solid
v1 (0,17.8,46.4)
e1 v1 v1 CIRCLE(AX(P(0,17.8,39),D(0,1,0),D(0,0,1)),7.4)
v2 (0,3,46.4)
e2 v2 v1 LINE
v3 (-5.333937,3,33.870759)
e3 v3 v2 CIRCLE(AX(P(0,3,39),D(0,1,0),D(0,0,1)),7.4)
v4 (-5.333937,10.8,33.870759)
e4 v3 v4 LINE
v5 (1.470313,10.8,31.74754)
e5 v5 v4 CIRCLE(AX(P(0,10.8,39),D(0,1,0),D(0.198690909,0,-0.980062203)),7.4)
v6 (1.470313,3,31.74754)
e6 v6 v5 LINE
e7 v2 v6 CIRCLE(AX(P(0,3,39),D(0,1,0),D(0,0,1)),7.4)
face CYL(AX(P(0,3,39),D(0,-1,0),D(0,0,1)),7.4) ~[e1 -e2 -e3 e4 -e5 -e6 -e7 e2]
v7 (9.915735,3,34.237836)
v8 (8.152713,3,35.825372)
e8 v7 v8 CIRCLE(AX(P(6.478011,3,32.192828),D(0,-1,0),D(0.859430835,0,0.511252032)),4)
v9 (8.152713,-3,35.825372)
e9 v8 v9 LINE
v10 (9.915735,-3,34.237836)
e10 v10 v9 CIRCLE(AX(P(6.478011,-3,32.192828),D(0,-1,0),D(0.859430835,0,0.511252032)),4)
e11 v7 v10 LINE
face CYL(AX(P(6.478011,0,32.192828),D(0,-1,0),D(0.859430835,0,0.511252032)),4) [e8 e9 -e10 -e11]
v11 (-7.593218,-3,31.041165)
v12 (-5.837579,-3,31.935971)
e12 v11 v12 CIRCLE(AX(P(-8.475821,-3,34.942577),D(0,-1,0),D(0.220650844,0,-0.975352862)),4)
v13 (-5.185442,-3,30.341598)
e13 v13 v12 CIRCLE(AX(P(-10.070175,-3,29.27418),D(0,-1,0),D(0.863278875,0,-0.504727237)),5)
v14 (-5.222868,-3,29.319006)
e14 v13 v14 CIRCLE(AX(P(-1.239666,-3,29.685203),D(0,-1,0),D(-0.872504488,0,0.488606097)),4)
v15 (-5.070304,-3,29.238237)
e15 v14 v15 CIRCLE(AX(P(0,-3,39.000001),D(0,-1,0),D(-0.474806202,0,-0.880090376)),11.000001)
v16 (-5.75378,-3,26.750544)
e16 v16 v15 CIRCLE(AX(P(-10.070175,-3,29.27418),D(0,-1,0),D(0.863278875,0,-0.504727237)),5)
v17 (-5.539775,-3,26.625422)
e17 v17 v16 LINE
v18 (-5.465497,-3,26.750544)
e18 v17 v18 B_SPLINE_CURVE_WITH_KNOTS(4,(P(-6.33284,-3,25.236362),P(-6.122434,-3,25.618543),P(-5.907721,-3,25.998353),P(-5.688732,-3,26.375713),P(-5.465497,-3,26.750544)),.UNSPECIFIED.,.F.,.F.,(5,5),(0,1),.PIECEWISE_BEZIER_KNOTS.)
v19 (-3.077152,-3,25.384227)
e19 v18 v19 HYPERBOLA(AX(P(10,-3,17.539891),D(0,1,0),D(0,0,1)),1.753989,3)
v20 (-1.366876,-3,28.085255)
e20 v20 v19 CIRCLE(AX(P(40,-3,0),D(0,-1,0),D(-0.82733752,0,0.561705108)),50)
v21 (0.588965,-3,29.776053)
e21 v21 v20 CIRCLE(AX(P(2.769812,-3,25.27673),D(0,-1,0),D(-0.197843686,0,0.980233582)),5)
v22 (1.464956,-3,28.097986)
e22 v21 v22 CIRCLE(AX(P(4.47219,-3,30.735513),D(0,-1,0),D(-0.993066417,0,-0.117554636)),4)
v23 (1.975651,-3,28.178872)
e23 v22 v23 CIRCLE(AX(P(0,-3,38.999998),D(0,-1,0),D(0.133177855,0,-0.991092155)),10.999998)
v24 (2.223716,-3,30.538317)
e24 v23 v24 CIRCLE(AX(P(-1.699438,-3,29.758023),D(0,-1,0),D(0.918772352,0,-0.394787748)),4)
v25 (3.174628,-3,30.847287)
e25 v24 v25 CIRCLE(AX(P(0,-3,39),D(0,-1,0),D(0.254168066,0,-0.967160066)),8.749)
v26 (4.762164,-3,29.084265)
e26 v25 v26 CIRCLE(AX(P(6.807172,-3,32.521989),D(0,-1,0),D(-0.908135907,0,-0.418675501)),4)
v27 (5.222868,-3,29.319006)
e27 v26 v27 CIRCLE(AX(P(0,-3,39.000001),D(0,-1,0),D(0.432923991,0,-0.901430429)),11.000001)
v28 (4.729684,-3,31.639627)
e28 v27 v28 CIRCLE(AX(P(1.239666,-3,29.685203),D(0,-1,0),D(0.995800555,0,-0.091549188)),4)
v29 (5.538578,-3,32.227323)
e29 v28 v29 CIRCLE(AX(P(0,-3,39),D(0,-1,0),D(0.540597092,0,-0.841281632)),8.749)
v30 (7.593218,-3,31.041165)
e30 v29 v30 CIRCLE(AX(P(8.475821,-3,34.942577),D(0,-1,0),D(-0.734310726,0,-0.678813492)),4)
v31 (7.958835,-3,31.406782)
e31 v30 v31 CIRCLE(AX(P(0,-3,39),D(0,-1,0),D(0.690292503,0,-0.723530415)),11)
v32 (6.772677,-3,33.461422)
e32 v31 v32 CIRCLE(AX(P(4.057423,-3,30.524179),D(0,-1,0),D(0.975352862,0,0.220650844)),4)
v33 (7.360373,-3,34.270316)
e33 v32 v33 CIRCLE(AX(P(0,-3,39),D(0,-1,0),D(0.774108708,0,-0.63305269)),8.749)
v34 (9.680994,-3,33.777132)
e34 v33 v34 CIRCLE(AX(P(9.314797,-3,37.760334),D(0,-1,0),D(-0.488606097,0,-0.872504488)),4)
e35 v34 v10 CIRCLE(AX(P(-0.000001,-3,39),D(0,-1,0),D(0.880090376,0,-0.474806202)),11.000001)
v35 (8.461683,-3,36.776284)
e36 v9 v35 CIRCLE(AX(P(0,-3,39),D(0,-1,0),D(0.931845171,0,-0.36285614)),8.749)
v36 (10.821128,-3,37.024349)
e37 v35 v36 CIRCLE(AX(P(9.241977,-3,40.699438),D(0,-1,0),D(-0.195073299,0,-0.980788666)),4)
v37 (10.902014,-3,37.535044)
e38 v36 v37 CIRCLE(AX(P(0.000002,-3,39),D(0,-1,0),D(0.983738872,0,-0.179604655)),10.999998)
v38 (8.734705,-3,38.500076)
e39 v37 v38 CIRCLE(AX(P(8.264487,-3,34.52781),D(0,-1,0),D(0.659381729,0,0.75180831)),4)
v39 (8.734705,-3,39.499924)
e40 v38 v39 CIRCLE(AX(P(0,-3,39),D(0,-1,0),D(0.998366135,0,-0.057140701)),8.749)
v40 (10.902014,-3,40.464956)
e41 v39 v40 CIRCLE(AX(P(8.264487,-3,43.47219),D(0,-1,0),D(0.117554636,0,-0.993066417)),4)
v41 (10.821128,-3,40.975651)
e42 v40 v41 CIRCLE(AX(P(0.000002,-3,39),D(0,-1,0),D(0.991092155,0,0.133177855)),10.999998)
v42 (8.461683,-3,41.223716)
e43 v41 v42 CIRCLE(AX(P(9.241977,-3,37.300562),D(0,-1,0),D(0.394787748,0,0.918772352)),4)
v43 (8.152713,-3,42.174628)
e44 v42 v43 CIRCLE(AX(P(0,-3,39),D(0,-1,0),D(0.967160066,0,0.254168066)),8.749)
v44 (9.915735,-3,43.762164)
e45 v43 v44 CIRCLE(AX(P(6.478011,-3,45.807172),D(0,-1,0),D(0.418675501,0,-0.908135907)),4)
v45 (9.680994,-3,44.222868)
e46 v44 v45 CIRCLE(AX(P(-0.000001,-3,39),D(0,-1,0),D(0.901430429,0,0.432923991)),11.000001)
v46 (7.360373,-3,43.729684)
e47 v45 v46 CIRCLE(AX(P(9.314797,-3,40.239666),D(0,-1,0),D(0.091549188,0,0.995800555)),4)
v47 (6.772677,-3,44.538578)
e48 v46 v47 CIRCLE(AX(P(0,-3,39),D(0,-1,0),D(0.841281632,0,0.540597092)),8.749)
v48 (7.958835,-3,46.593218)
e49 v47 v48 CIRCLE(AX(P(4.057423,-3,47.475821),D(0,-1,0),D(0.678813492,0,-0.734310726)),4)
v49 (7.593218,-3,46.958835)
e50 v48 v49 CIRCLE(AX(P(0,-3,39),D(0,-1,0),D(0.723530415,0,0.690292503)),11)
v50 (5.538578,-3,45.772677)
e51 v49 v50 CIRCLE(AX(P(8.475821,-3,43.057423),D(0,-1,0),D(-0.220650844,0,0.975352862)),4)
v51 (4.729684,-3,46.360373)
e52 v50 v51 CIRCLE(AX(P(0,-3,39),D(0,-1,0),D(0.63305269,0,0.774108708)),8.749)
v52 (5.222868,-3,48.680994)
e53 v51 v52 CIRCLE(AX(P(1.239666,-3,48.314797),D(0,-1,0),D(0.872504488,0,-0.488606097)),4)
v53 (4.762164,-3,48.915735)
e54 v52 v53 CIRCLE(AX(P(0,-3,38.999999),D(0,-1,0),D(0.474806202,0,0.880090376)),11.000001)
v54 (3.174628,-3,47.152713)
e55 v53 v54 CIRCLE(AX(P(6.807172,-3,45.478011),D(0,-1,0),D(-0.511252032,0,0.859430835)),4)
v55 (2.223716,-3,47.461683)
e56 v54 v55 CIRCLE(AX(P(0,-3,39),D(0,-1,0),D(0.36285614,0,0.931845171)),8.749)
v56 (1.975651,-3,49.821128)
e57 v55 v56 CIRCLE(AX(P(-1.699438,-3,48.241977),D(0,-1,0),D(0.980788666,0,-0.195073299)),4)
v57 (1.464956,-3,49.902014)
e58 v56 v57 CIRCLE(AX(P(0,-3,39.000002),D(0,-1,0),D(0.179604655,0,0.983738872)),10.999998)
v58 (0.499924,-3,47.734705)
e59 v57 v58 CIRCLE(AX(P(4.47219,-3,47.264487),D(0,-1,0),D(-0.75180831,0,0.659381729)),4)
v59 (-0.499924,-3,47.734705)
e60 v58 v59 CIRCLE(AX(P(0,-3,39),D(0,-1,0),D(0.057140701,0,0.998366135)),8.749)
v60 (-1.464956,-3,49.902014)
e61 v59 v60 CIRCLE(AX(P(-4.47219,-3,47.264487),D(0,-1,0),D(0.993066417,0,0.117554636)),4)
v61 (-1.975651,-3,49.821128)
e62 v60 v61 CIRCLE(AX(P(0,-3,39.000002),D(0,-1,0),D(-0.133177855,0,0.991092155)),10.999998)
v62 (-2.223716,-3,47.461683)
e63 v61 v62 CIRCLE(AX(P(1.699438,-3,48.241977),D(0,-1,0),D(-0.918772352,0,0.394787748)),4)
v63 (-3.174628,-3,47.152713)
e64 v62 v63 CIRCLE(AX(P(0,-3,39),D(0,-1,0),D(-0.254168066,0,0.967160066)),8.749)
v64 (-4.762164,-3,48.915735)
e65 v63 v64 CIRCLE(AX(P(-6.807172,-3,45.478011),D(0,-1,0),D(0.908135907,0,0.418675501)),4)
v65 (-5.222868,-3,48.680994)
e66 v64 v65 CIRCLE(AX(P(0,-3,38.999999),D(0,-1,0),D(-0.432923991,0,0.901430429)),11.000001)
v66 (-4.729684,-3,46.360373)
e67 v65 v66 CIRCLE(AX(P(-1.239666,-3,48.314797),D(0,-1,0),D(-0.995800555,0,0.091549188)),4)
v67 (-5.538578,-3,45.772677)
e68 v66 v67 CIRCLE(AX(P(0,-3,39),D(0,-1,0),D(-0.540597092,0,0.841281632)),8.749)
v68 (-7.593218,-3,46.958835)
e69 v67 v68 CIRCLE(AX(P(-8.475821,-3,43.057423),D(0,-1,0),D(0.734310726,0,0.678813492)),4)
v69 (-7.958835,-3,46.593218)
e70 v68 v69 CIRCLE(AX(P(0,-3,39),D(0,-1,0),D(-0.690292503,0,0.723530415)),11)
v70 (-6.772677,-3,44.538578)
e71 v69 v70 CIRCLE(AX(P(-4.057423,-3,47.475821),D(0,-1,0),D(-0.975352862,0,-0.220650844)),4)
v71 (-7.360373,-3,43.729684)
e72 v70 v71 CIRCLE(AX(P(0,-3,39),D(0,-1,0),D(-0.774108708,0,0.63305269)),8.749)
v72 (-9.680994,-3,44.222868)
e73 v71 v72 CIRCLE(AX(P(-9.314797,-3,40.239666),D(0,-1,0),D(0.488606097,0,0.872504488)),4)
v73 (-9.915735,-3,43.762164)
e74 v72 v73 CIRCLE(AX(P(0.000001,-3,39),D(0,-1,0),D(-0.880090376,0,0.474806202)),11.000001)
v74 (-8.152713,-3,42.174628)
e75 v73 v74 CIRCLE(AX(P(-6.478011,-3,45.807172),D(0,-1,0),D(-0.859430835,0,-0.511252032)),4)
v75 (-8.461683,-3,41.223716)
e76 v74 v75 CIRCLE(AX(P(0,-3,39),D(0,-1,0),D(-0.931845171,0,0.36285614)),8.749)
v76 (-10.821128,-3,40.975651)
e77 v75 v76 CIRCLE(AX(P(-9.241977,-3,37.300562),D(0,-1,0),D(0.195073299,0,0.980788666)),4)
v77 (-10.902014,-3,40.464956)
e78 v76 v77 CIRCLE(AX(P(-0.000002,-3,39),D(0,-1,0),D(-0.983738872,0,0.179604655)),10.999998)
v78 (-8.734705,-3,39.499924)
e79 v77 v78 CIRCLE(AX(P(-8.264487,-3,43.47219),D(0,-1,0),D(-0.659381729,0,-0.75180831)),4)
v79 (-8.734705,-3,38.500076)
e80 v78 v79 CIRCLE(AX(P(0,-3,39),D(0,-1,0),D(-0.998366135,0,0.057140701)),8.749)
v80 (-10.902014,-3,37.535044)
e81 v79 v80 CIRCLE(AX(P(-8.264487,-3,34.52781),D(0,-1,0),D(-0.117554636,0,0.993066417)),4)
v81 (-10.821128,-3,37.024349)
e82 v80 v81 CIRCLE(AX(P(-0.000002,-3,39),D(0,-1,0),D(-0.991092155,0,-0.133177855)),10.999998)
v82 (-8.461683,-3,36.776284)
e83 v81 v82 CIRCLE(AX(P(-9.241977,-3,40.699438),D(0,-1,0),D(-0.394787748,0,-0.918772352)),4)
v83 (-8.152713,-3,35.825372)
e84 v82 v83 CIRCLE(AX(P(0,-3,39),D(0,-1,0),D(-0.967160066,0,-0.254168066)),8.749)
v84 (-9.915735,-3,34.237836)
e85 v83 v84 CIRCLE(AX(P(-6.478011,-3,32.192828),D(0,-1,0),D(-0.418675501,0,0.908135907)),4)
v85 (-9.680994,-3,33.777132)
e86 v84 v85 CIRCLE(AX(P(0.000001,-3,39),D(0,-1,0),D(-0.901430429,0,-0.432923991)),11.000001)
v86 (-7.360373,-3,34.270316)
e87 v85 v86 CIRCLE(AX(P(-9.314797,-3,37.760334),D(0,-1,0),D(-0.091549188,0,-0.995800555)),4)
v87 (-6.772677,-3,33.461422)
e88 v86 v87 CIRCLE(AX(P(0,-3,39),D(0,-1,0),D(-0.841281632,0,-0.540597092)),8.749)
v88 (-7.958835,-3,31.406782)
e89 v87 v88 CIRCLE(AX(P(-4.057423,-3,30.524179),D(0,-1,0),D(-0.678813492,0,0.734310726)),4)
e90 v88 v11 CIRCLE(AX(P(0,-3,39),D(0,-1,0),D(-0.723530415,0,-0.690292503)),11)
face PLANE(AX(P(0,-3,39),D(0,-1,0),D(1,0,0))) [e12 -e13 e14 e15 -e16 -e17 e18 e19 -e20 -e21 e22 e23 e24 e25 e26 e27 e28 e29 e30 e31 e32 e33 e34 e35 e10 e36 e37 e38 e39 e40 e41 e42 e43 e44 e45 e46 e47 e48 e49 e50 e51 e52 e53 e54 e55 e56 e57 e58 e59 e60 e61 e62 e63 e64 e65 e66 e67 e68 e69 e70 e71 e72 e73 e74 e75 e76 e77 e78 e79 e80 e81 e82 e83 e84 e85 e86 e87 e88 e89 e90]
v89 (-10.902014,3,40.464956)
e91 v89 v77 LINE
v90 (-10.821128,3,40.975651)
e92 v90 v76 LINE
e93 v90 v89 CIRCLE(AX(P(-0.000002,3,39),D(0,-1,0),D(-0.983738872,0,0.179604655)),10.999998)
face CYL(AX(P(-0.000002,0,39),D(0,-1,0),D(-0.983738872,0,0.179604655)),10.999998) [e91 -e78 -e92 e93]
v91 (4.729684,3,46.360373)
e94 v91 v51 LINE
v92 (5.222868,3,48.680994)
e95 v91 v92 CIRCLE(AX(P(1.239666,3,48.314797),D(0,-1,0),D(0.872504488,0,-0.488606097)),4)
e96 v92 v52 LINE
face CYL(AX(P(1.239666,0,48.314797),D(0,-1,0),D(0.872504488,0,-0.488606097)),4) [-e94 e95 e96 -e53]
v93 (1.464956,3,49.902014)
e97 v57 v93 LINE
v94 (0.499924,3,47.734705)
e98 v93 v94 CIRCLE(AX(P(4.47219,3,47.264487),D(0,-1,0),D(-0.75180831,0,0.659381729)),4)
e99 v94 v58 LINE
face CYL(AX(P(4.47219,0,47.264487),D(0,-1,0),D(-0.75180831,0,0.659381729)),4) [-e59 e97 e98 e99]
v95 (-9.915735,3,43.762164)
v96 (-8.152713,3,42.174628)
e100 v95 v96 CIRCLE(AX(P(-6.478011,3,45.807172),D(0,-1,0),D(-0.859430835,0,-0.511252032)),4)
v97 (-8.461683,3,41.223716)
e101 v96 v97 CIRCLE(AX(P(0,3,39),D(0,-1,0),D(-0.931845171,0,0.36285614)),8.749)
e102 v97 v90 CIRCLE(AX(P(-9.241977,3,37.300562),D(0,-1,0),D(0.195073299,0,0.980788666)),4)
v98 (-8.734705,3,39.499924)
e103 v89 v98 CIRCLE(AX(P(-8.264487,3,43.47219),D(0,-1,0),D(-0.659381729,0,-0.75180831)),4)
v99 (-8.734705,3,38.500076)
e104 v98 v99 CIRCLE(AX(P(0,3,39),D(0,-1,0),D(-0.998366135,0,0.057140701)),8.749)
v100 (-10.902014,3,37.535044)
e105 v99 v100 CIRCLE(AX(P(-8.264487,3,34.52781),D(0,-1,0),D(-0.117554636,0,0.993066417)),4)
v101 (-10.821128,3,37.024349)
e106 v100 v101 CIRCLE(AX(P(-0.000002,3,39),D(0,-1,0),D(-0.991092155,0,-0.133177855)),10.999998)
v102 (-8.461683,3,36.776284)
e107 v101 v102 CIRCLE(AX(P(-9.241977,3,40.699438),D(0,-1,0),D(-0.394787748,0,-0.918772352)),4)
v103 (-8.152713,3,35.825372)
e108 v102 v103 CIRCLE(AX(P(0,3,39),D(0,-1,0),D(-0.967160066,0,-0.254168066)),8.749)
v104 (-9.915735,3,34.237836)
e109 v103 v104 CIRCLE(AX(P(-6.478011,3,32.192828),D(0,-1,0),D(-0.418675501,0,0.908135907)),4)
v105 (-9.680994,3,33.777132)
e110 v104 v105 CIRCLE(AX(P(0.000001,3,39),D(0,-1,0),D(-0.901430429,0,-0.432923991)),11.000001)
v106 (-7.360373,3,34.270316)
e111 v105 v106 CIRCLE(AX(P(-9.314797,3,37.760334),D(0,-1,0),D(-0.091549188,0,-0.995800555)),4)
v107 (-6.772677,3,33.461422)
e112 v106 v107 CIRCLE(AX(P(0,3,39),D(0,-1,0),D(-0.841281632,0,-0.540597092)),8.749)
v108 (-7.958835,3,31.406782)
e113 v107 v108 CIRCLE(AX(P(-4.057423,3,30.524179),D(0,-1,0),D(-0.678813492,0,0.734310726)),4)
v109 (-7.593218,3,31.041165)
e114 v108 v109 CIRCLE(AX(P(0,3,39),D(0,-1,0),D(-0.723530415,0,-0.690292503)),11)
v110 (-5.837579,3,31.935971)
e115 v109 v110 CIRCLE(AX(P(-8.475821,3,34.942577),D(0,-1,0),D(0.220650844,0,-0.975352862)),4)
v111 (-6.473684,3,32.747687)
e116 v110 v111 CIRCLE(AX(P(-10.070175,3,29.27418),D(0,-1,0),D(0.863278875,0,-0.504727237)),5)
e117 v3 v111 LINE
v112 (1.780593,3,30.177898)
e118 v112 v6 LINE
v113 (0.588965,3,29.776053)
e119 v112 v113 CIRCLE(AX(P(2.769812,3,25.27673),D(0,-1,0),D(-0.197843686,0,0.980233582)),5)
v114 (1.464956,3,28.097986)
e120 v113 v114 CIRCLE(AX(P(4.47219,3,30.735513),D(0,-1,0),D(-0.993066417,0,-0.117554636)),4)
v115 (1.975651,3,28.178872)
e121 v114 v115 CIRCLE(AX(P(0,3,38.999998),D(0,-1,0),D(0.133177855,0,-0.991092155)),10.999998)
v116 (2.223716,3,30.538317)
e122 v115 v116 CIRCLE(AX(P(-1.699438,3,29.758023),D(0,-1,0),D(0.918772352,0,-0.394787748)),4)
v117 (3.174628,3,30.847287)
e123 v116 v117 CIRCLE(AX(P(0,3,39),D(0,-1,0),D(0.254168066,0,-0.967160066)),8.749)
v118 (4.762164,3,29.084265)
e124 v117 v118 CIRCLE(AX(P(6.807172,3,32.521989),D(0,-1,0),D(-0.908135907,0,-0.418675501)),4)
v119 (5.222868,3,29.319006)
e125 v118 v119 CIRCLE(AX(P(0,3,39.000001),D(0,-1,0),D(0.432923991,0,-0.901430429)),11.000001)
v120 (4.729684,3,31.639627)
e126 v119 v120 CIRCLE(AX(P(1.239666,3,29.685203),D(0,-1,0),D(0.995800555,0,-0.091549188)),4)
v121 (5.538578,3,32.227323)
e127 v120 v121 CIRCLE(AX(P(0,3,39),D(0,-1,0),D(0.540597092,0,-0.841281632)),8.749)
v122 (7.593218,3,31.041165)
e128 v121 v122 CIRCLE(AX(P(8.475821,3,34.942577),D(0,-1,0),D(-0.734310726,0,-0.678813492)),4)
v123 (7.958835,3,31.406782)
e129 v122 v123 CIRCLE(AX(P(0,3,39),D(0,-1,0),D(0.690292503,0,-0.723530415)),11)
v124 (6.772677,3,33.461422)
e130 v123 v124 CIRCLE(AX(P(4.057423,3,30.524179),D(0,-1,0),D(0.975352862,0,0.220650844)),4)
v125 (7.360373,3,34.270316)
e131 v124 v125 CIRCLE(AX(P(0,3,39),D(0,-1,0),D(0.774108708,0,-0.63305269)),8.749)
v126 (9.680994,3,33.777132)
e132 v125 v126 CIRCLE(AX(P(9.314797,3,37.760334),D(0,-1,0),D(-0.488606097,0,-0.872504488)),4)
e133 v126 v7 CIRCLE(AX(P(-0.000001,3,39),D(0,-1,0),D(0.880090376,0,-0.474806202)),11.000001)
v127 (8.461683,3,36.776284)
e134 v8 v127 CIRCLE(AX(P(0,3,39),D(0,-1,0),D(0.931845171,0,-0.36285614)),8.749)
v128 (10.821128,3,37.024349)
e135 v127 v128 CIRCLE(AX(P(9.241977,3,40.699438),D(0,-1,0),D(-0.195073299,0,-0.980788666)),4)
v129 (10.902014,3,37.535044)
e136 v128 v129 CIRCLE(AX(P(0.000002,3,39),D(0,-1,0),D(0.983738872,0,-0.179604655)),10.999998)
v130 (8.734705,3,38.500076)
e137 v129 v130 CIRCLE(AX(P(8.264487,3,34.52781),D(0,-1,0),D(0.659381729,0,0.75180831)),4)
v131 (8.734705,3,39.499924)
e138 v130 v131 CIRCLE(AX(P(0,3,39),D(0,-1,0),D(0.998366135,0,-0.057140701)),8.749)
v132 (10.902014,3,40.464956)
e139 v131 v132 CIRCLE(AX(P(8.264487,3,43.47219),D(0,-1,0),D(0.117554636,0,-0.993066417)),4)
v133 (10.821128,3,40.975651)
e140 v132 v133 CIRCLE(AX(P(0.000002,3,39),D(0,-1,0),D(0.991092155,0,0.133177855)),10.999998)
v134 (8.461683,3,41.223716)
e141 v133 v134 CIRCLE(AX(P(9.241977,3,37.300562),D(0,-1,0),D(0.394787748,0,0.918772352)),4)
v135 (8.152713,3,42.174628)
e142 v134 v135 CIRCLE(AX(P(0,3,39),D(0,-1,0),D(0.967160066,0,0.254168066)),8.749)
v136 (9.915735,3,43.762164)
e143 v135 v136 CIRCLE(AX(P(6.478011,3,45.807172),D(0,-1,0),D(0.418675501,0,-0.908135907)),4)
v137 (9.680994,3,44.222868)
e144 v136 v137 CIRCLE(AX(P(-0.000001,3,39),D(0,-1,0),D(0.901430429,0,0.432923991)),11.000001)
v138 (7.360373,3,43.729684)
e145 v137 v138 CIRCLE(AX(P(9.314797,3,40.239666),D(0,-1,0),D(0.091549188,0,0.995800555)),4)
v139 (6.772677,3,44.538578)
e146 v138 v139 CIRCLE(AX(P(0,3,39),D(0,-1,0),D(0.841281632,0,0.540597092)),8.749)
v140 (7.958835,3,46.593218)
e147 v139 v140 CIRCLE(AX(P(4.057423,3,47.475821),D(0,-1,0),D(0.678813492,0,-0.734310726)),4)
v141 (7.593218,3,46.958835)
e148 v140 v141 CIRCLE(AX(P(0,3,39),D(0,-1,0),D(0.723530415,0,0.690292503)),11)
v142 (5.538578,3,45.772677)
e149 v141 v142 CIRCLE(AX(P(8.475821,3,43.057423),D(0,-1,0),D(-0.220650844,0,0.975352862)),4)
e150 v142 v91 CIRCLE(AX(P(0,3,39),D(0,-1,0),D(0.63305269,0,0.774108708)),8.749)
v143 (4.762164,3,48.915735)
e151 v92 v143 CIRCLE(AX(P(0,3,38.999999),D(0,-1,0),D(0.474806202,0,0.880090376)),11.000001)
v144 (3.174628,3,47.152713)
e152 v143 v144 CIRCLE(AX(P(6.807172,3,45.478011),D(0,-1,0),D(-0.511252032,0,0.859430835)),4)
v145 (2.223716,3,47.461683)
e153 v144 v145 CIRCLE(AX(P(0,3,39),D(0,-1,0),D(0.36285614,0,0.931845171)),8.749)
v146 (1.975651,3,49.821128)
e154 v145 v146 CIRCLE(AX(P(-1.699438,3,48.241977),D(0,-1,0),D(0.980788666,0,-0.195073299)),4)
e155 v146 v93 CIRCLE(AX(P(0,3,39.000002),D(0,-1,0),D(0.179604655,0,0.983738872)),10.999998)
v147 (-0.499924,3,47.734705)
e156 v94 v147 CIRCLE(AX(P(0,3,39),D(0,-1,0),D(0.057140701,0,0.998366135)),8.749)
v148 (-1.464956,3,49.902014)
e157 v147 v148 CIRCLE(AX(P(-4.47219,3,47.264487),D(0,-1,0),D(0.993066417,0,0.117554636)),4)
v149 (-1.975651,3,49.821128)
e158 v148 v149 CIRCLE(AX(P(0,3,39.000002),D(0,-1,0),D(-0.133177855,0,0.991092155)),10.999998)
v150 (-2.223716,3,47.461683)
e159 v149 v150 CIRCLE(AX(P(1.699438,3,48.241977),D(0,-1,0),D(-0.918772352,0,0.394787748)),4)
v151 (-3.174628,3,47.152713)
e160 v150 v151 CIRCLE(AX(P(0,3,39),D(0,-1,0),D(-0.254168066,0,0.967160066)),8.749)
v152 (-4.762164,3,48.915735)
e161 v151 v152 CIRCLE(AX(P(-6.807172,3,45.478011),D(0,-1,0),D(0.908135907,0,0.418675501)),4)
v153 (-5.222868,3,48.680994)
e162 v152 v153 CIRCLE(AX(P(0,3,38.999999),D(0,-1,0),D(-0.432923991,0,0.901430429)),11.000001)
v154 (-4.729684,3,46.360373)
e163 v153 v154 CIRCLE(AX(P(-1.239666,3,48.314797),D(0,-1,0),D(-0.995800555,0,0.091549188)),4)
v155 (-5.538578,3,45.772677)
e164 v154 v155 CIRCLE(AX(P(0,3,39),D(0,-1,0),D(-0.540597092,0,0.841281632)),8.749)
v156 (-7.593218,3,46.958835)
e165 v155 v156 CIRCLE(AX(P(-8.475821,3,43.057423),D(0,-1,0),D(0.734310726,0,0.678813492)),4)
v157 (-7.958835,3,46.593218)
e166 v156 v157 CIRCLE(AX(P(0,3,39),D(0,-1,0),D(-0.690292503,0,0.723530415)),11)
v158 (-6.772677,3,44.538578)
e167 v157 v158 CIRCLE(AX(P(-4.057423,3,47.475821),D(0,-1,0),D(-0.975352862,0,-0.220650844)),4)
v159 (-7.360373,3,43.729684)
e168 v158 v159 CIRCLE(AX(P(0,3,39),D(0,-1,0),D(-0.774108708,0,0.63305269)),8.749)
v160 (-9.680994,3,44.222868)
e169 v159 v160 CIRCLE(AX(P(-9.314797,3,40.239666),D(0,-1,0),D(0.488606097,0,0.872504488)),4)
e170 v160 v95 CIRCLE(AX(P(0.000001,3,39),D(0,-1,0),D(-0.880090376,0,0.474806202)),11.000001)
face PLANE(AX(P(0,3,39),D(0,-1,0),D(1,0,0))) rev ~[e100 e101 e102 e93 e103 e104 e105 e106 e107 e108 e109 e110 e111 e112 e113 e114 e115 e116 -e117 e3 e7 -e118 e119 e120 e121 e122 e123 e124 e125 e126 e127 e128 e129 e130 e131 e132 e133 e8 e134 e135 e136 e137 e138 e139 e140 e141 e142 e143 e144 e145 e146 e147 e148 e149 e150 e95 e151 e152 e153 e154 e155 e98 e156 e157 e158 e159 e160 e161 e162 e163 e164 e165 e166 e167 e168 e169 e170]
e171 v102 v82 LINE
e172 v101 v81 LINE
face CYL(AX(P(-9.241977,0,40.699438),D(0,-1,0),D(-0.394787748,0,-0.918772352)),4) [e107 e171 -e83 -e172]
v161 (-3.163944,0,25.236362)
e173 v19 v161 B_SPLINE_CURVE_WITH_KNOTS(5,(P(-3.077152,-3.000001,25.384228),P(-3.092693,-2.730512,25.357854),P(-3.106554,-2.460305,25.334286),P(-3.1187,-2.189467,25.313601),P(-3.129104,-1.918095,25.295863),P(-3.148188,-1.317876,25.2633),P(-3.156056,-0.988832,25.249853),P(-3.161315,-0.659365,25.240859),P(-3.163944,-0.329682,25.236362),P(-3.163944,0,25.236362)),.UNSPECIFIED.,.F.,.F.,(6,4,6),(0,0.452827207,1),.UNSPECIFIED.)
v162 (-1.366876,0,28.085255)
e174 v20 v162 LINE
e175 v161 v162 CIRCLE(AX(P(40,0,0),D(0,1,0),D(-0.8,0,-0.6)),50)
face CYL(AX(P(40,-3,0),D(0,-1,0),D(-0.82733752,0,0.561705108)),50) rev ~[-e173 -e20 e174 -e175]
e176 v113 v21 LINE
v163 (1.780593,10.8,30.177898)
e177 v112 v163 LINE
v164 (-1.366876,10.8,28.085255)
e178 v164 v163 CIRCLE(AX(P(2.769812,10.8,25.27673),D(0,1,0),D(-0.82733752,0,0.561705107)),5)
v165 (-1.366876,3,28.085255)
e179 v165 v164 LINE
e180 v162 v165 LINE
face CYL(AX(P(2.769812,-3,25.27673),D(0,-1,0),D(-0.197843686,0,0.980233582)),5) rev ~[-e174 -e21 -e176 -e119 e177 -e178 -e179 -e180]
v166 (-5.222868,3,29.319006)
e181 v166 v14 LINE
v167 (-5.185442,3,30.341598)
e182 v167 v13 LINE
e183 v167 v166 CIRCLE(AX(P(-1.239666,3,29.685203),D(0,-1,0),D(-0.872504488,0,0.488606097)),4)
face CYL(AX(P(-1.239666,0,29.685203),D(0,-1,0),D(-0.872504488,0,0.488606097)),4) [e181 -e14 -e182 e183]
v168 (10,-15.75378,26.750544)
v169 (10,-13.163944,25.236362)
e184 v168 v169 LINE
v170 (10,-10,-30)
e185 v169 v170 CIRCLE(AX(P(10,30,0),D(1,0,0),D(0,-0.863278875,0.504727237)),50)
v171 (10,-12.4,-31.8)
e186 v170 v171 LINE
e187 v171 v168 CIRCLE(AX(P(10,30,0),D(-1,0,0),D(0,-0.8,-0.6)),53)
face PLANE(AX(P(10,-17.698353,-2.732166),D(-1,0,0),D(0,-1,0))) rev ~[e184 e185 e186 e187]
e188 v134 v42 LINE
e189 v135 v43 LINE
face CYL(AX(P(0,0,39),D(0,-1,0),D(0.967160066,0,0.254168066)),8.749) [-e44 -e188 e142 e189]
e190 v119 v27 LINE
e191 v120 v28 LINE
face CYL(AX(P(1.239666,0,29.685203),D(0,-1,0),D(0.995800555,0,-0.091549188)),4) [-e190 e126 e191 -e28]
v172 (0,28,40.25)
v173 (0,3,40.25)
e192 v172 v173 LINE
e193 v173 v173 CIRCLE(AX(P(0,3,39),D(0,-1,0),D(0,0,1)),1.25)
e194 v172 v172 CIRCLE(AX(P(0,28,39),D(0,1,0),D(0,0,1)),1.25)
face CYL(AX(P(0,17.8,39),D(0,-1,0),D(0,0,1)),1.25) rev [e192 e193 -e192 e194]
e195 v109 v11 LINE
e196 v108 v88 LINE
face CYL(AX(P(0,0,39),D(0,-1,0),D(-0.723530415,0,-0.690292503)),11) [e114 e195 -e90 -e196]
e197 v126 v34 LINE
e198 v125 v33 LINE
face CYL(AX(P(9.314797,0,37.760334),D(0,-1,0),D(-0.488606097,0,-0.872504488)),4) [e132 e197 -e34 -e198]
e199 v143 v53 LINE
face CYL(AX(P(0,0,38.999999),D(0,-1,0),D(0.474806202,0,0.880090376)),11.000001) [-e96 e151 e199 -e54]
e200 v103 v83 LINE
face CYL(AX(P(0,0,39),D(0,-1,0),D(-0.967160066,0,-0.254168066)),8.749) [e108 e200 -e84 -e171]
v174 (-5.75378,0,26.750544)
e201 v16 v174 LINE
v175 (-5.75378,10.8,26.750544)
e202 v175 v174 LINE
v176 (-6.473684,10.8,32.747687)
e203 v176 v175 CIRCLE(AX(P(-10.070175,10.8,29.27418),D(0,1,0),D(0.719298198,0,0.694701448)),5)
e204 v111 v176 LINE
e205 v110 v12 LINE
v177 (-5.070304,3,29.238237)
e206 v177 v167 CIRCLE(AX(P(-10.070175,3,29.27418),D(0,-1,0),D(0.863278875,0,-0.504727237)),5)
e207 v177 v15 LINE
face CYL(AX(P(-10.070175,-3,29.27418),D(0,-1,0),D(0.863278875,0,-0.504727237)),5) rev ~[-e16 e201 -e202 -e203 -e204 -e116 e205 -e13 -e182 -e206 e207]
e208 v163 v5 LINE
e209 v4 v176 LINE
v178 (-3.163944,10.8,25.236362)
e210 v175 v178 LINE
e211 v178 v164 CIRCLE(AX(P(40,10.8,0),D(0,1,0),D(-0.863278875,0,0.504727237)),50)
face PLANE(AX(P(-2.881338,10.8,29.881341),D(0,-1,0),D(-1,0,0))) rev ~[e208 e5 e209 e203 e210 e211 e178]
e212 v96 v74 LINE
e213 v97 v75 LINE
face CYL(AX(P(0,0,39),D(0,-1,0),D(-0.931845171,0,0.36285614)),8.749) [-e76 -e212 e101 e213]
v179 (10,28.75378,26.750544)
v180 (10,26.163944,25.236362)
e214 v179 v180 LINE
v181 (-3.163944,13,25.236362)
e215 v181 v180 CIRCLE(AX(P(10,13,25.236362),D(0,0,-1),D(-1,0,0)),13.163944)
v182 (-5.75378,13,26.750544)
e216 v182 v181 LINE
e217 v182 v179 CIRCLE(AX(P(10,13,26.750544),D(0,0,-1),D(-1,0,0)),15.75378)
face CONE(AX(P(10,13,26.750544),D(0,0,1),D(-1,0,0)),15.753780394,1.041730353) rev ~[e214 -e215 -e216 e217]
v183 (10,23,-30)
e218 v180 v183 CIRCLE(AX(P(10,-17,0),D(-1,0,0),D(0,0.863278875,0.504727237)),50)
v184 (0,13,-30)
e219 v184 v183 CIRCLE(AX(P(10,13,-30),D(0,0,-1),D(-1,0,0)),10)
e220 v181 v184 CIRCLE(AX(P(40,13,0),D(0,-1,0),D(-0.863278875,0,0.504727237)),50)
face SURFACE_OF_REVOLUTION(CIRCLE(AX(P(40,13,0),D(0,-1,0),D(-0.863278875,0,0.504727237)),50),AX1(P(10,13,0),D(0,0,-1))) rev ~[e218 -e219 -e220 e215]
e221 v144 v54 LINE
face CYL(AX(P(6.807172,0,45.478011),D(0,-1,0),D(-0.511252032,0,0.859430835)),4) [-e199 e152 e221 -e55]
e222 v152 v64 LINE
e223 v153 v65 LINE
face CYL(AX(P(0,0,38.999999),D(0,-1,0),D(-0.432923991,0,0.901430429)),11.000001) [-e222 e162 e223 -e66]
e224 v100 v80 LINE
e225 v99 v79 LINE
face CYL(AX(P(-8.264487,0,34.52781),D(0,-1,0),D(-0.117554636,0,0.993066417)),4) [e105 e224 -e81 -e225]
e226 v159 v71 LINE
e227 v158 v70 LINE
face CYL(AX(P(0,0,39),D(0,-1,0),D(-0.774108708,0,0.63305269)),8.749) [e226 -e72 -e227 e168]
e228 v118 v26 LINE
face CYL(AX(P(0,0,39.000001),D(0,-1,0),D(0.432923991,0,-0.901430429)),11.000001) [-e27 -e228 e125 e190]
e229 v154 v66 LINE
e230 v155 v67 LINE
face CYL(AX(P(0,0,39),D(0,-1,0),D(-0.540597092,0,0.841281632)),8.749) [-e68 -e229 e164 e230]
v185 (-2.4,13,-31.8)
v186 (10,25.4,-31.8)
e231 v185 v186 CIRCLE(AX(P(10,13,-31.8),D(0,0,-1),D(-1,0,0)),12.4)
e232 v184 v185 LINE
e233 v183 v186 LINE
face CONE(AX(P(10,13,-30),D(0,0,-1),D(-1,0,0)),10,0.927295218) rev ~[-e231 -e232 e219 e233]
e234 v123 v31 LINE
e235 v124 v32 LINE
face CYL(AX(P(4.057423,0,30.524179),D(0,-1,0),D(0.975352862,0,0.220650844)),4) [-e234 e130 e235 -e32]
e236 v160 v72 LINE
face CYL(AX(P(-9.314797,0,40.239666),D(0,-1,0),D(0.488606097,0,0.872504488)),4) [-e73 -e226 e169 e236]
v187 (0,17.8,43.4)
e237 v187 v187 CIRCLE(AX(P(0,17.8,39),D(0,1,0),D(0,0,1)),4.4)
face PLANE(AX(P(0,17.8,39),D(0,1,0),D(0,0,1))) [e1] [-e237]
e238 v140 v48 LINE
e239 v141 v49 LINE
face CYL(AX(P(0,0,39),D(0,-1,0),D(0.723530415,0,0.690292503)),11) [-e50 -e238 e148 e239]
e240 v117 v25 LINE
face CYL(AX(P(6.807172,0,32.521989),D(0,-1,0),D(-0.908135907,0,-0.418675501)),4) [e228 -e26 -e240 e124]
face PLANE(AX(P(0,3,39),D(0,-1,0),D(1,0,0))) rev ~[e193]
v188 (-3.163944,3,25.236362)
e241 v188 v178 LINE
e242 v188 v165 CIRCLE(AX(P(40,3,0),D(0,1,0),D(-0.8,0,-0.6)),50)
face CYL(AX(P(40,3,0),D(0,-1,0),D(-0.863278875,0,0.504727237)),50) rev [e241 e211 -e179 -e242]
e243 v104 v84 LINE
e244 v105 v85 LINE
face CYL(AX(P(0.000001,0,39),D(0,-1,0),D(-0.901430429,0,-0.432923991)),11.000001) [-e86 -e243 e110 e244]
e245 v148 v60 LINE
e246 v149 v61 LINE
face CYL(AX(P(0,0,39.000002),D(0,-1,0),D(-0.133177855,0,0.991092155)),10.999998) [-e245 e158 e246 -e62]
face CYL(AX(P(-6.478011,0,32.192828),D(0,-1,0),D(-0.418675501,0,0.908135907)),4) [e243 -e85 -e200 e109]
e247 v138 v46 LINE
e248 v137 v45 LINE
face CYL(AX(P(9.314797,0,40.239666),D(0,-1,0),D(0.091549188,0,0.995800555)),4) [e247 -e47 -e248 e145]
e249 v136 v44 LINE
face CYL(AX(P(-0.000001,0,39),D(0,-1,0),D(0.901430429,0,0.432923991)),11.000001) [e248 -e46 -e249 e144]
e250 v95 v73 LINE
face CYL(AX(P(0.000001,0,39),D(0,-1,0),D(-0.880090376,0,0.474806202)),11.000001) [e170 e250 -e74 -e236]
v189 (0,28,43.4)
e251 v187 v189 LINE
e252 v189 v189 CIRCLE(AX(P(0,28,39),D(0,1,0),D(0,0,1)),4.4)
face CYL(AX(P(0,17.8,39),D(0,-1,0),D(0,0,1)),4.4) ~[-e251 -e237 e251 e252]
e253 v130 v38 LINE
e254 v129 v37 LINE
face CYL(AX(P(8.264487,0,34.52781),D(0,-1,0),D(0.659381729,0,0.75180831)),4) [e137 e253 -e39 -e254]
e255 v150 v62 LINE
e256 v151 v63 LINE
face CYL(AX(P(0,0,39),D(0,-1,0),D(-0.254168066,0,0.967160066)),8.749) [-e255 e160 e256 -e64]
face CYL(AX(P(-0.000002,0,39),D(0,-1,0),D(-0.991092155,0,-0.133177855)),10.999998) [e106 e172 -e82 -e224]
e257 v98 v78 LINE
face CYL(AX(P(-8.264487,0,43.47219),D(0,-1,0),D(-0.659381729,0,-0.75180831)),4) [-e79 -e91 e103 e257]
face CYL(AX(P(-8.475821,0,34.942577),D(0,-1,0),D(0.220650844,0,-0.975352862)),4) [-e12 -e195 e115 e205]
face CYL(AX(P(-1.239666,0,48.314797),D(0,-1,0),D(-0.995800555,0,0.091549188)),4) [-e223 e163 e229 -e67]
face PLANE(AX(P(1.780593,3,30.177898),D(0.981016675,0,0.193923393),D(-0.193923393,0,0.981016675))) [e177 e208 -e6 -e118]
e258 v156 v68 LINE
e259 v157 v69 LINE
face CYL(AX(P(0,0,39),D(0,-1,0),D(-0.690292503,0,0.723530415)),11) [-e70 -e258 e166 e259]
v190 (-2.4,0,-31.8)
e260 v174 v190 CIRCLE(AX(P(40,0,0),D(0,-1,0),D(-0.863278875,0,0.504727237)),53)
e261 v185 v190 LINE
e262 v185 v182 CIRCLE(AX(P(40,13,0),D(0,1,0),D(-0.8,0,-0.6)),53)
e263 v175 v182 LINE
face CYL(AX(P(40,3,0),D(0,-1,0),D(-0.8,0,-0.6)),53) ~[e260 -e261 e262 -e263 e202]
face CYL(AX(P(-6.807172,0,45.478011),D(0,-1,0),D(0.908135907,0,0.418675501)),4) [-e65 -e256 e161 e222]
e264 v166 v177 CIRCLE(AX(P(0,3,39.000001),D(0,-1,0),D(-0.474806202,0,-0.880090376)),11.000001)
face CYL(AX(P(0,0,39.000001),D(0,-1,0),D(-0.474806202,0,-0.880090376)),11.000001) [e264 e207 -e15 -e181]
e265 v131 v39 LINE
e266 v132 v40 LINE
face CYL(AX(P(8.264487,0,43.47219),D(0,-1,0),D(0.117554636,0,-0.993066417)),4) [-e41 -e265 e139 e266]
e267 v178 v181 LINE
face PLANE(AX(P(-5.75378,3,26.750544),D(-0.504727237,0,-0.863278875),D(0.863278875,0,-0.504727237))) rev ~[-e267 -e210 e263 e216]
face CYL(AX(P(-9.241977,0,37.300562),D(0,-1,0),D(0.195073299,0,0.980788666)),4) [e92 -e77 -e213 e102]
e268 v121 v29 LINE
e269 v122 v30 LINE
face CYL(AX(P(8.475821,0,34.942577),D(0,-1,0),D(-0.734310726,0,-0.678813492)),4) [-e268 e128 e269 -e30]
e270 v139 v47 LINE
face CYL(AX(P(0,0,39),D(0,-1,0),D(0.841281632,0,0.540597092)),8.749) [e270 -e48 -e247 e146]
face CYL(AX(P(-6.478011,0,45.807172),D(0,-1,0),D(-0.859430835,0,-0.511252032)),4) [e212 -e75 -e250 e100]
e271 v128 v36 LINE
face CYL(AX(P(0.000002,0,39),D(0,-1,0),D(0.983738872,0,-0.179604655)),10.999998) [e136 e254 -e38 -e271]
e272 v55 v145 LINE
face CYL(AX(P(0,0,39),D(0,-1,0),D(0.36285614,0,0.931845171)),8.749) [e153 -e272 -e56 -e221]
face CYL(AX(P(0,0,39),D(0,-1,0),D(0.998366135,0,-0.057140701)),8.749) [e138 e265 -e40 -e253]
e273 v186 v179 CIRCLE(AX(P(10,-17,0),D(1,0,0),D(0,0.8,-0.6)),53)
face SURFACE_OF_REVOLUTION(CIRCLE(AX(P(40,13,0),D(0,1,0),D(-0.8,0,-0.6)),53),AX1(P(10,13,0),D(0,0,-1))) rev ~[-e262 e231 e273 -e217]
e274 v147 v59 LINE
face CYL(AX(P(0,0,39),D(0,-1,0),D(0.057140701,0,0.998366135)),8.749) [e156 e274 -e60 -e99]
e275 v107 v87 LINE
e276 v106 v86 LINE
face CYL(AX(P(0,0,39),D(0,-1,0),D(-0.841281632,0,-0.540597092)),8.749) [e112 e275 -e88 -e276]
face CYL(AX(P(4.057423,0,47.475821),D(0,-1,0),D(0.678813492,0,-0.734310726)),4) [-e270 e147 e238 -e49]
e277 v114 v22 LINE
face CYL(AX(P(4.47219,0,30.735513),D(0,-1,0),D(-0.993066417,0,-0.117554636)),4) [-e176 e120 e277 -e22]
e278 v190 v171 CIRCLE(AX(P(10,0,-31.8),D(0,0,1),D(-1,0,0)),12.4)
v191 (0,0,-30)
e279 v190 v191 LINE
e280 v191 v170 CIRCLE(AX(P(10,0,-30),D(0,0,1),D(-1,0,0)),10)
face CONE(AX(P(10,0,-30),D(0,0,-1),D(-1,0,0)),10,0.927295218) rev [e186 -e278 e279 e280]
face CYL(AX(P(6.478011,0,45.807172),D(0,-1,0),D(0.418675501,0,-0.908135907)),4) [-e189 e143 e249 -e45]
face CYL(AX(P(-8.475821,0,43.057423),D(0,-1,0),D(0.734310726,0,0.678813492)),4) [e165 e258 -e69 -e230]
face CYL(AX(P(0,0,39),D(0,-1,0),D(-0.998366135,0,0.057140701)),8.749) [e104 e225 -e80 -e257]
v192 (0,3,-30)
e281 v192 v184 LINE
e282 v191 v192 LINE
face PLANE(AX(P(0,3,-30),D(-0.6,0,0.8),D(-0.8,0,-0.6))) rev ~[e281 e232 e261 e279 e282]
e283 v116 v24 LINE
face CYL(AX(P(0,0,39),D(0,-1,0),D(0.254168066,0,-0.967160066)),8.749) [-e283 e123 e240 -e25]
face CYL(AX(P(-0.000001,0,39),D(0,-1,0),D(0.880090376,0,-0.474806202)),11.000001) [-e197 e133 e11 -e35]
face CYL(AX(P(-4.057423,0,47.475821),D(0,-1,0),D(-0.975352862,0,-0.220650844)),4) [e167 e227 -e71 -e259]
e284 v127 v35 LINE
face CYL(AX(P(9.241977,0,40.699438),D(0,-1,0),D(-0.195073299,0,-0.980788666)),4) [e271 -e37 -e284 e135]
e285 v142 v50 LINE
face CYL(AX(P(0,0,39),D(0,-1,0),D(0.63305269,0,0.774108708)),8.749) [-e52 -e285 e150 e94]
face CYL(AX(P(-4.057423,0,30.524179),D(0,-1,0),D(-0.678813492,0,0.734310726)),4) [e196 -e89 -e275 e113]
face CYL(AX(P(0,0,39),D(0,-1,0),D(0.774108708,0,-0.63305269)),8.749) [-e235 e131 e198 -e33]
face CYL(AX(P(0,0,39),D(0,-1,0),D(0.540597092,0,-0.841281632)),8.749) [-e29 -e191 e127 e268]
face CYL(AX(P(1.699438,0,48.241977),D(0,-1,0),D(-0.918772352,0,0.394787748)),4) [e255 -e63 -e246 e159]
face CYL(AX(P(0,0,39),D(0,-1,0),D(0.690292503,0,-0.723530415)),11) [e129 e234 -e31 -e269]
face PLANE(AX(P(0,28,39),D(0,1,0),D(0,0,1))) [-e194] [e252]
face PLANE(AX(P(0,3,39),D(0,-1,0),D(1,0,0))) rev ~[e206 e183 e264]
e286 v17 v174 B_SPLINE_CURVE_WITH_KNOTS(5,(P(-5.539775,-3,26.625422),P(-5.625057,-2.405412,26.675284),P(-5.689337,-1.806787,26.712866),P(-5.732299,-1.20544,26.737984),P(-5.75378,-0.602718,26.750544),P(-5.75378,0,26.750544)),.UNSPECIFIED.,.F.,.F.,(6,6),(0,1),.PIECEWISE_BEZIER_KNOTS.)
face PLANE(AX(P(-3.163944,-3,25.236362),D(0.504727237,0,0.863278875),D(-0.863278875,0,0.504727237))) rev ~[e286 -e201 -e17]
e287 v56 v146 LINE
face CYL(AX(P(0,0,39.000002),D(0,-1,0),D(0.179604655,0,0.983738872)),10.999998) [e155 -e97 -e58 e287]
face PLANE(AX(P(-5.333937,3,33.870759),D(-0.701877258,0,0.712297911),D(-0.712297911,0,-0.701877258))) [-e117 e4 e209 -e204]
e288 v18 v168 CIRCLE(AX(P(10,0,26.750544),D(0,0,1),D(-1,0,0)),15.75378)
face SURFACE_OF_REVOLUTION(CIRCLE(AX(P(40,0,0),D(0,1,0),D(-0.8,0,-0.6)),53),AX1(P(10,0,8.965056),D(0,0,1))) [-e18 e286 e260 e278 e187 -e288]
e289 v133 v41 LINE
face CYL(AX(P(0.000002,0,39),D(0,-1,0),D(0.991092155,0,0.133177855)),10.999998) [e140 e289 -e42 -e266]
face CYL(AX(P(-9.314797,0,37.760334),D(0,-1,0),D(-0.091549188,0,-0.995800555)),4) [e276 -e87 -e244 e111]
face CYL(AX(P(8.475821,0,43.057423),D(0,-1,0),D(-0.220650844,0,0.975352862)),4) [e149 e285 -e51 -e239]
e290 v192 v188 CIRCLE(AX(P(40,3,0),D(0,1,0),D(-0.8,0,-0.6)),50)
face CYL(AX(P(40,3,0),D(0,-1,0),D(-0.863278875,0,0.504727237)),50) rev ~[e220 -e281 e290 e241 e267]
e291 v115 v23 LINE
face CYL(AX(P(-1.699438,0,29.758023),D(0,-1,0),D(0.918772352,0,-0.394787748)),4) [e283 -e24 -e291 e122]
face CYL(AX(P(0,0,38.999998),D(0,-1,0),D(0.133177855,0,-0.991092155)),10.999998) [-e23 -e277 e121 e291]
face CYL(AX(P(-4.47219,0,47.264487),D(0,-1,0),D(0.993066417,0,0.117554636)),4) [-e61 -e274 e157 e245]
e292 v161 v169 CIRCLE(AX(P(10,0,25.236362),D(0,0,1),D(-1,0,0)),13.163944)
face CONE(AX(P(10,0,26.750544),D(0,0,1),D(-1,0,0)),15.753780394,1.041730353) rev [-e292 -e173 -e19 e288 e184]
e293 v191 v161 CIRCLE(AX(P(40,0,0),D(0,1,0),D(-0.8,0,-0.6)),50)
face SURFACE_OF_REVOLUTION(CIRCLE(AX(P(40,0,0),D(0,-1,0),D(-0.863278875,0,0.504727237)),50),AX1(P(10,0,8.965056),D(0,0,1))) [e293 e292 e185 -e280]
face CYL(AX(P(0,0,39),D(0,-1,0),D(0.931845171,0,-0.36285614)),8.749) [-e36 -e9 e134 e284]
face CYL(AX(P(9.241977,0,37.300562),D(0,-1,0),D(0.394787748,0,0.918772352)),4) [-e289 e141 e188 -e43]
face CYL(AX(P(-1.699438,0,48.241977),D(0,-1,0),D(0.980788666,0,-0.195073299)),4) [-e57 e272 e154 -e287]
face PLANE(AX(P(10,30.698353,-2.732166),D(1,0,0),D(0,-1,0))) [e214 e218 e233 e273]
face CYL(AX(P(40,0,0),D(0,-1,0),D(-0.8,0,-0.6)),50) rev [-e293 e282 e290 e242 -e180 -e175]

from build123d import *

# Parameters (mm, degrees)
SKETCH_1_R          = 1.25
EXTRUDE_2_DEPTH     = 3
EXTRUDE_6_DEPTH     = 10
REVOLVE_5_ANGLE     = 90
SKETCH_5_R          = 7.4
SKETCH_5_R_2        = 1.25
EXTRUDE_3_DEPTH     = 14.8
SKETCH_6_R          = 4.4
SKETCH_6_R_2        = 1.25
EXTRUDE_4_DEPTH     = 10.2
REVOLVE_6_ANGLE     = 90
EXTRUDE_7_DEPTH     = 7.8
CUT_EXTRUDE_1_DEPTH = 3
EXTRUDE_START       = 3
EXTRUDE_9_DEPTH     = 3
EXTRUDE_10_DEPTH    = 3


with BuildPart() as part:
    # 草图1 → 凸台-拉伸2 (new body)
    with BuildSketch(Plane(origin=(0, 0, 0), x_dir=(1, 0, 0), z_dir=(0, 1, 0))):
        with BuildLine():
            Line((-2.4, 31.8), (0, 30))
            ThreePointArc((0, 30), (-9.986161593, 1.176286204), (-1.366875999, -28.085255385))
            ThreePointArc((-1.366875999, -28.085255385), (0.001505949, -29.44044019), (1.780593172, -30.177897759))
            ThreePointArc((1.780593172, -30.177897759), (2.675299798, -47.593181657), (-6.473683781, -32.747686964))
            ThreePointArc((-6.473683781, -32.747686964), (-5.105814689, -29.870106713), (-5.753780394, -26.750543539))
            ThreePointArc((-5.753780394, -26.750543539), (-12.913266641, 3.030876667), (-2.4, 31.8))
        make_face()
        with Locations(Location((0, -39, 0), (0, 0, 270))):
            Circle(SKETCH_1_R, mode=Mode.SUBTRACT)
    extrude(amount=EXTRUDE_2_DEPTH)

    # 草图2 → 凸台-拉伸6 (add)
    with BuildSketch(Plane(origin=(0, 3, 0), x_dir=(1, 0, 0), z_dir=(0, 1, 0))):
        with BuildLine():
            Line((-5.753780394, -26.750543539), (-3.163943768, -25.236361829))
            ThreePointArc((-3.163943768, -25.236361829), (-9.918176076, 2.85931761), (0, 30))
            Line((0, 30), (-2.4, 31.8))
            ThreePointArc((-2.4, 31.8), (-12.913266641, 3.030876667), (-5.753780394, -26.750543539))
        make_face()
    extrude(amount=EXTRUDE_6_DEPTH)

    # 草图3 → 旋转5 (revolve)
    with BuildSketch(Plane.XZ):
        with BuildLine():
            Line((0, -30), (-2.4, -31.8))
            ThreePointArc((-2.4, -31.8), (-12.913266641, -3.030876667), (-5.753780394, 26.750543539))
            Line((-5.753780394, 26.750543539), (-3.163943768, 25.236361829))
            ThreePointArc((-3.163943768, 25.236361829), (-9.918176076, -2.85931761), (0, -30))
        make_face()
    revolve(axis=Axis((10, 0, 8.965056224), (0, 0, 1)), revolution_arc=REVOLVE_5_ANGLE)

    # 草图5 → 凸台-拉伸3 (add)
    with BuildSketch(Plane(origin=(0, 3, 0), x_dir=(1, 0, 0), z_dir=(0, 1, 0))):
        with Locations(Location((0, -39, 0), (0, 0, 270))):
            Circle(SKETCH_5_R)
        with Locations(Location((0, -39, 0), (0, 0, 270))):
            Circle(SKETCH_5_R_2, mode=Mode.SUBTRACT)
    extrude(amount=EXTRUDE_3_DEPTH)

    # 草图6 → 凸台-拉伸4 (add)
    with BuildSketch(Plane(origin=(0, 17.8, 0), x_dir=(1, 0, 0), z_dir=(0, 1, 0))):
        with Locations(Location((0, -39, 0), (0, 0, 270))):
            Circle(SKETCH_6_R)
        with Locations(Location((0, -39, 0), (0, 0, 270))):
            Circle(SKETCH_6_R_2, mode=Mode.SUBTRACT)
    extrude(amount=EXTRUDE_4_DEPTH)

    # 草图8 → 旋转6 (revolve)
    with BuildSketch(Plane(origin=(0, 13, 0), x_dir=(1, 0, 0), z_dir=(0, 1, 0))):
        with BuildLine():
            Line((0, 30), (-2.4, 31.8))
            ThreePointArc((-2.4, 31.8), (-12.913266641, 3.030876667), (-5.753780394, -26.750543539))
            Line((-5.753780394, -26.750543539), (-3.163943768, -25.236361829))
            ThreePointArc((-3.163943768, -25.236361829), (-9.918176076, 2.85931761), (0, 30))
        make_face()
    revolve(axis=Axis((10, 13, 0), (0, 0, -1)), revolution_arc=REVOLVE_6_ANGLE)

    # 草图9 → 凸台-拉伸7 (add)
    with BuildSketch(Plane(origin=(0, 3, 0), x_dir=(1, 0, 0), z_dir=(0, 1, 0))):
        with BuildLine():
            Line((-5.33393747, -33.870759212), (-6.473683781, -32.747686964))
            ThreePointArc((-6.473683781, -32.747686964), (-5.105814689, -29.870106713), (-5.753780394, -26.750543539))
            Line((-5.753780394, -26.750543539), (-3.163943768, -25.236361829))
            ThreePointArc((-3.163943768, -25.236361829), (-2.289406726, -26.675945695), (-1.366875999, -28.085255385))
            ThreePointArc((-1.366875999, -28.085255385), (0.001505949, -29.44044019), (1.780593172, -30.177897759))
            Line((1.780593172, -30.177897759), (1.470312727, -31.747539694))
            ThreePointArc((1.470312727, -31.747539694), (-2.204294517, -31.935929949), (-5.33393747, -33.870759212))
        make_face()
    extrude(amount=EXTRUDE_7_DEPTH)

    # 草图12 → 切除-拉伸1 (cut)
    with BuildSketch(Plane.XZ):
        with BuildLine():
            Line((-6.473683781, 32.747686964), (0, 39))
            Line((0, 39), (1.780593172, 30.177897759))
            ThreePointArc((1.780593172, 30.177897759), (2.675299798, 47.593181657), (-6.473683781, 32.747686964))
        make_face()
    extrude(amount=-CUT_EXTRUDE_1_DEPTH, mode=Mode.SUBTRACT)

    # 草图14 → 凸台-拉伸9 (add)
    with BuildSketch(Plane.XZ.offset(EXTRUDE_START)):
        with BuildLine():
            Line((-6.473683781, 32.747686964), (1.780593172, 30.177897759))
            ThreePointArc((1.780593172, 30.177897759), (0.001505949, 29.44044019), (-1.366875999, 28.085255385))
            ThreePointArc((-1.366875999, 28.085255385), (-2.289406726, 26.675945695), (-3.163943768, 25.236361829))
            Line((-3.163943768, 25.236361829), (-5.753780394, 26.750543539))
            ThreePointArc((-5.753780394, 26.750543539), (-5.105814689, 29.870106713), (-6.473683781, 32.747686964))
        make_face()
    extrude(amount=-EXTRUDE_9_DEPTH)

    # 草图13 → 凸台-拉伸10 (add, symmetric)
    with BuildSketch(Plane.XZ):
        with BuildLine():
            ThreePointArc((1.464956435, 49.902013697), (0.818060825, 48.891552344), (0.499924007, 47.734705318))
            ThreePointArc((0.499924007, 47.734705318), (0, 47.749), (-0.499924007, 47.734705318))
            ThreePointArc((-0.499924007, 47.734705318), (-0.818060825, 48.891552344), (-1.464956435, 49.902013697))
            ThreePointArc((-1.464956435, 49.902013697), (-1.720779115, 49.864571747), (-1.975651141, 49.821127601))
            ThreePointArc((-1.975651141, 49.821127601), (-2.278635697, 48.66022001), (-2.223716399, 47.461683425))
            ThreePointArc((-2.223716399, 47.461683425), (-2.703589684, 47.320793461), (-3.174628369, 47.152713396))
            ThreePointArc((-3.174628369, 47.152713396), (-3.834679853, 48.154630615), (-4.762163869, 48.915734733))
            ThreePointArc((-4.762163869, 48.915734733), (-4.993895497, 48.801071766), (-5.222868219, 48.680994141))
            ThreePointArc((-5.222868219, 48.680994141), (-5.15228348, 47.483278035), (-4.729683951, 46.360373002))
            ThreePointArc((-4.729683951, 46.360373002), (-5.142533172, 46.078089684), (-5.538577987, 45.772677084))
            ThreePointArc((-5.538577987, 45.772677084), (-6.4759337, 46.521589858), (-7.593217523, 46.958834566))
            ThreePointArc((-7.593217523, 46.958834566), (-7.778174593, 46.778174593), (-7.958834566, 46.593217523))
            ThreePointArc((-7.958834566, 46.593217523), (-7.521589858, 45.4759337), (-6.772677084, 44.538577987))
            ThreePointArc((-6.772677084, 44.538577987), (-7.078089684, 44.142533172), (-7.360373002, 43.729683951))
            ThreePointArc((-7.360373002, 43.729683951), (-8.483278035, 44.15228348), (-9.680994141, 44.222868219))
            ThreePointArc((-9.680994141, 44.222868219), (-9.801071766, 43.993895497), (-9.915734733, 43.762163869))
            ThreePointArc((-9.915734733, 43.762163869), (-9.154630615, 42.834679853), (-8.152713396, 42.174628369))
            ThreePointArc((-8.152713396, 42.174628369), (-8.320793461, 41.703589684), (-8.461683425, 41.223716399))
            ThreePointArc((-8.461683425, 41.223716399), (-9.66022001, 41.278635697), (-10.821127601, 40.975651141))
            ThreePointArc((-10.821127601, 40.975651141), (-10.864571747, 40.720779115), (-10.902013697, 40.464956435))
            ThreePointArc((-10.902013697, 40.464956435), (-9.891552344, 39.818060825), (-8.734705318, 39.499924007))
            ThreePointArc((-8.734705318, 39.499924007), (-8.749, 39), (-8.734705318, 38.500075993))
            ThreePointArc((-8.734705318, 38.500075993), (-9.891552344, 38.181939175), (-10.902013697, 37.535043565))
            ThreePointArc((-10.902013697, 37.535043565), (-10.864571747, 37.279220885), (-10.821127601, 37.024348859))
            ThreePointArc((-10.821127601, 37.024348859), (-9.66022001, 36.721364303), (-8.461683425, 36.776283601))
            ThreePointArc((-8.461683425, 36.776283601), (-8.320793461, 36.296410316), (-8.152713396, 35.825371631))
            ThreePointArc((-8.152713396, 35.825371631), (-9.154630615, 35.165320147), (-9.915734733, 34.237836131))
            ThreePointArc((-9.915734733, 34.237836131), (-9.801071766, 34.006104503), (-9.680994141, 33.777131781))
            ThreePointArc((-9.680994141, 33.777131781), (-8.483278035, 33.84771652), (-7.360373002, 34.270316049))
            ThreePointArc((-7.360373002, 34.270316049), (-7.078089684, 33.857466828), (-6.772677084, 33.461422013))
            ThreePointArc((-6.772677084, 33.461422013), (-7.521589858, 32.5240663), (-7.958834566, 31.406782477))
            ThreePointArc((-7.958834566, 31.406782477), (-7.778174593, 31.221825407), (-7.593217523, 31.041165434))
            ThreePointArc((-7.593217523, 31.041165434), (-6.4759337, 31.478410142), (-5.538577987, 32.227322916))
            ThreePointArc((-5.538577987, 32.227322916), (-5.142533172, 31.921910316), (-4.729683951, 31.639626998))
            ThreePointArc((-4.729683951, 31.639626998), (-5.15228348, 30.516721965), (-5.222868219, 29.319005859))
            ThreePointArc((-5.222868219, 29.319005859), (-4.993895497, 29.198928234), (-4.762163869, 29.084265267))
            ThreePointArc((-4.762163869, 29.084265267), (-3.834679853, 29.845369385), (-3.174628369, 30.847286604))
            ThreePointArc((-3.174628369, 30.847286604), (-2.703589684, 30.679206539), (-2.223716399, 30.538316575))
            ThreePointArc((-2.223716399, 30.538316575), (-2.278635697, 29.33977999), (-1.975651141, 28.178872399))
            ThreePointArc((-1.975651141, 28.178872399), (-1.720779115, 28.135428253), (-1.464956435, 28.097986303))
            ThreePointArc((-1.464956435, 28.097986303), (-0.818060825, 29.108447656), (-0.499924007, 30.265294682))
            ThreePointArc((-0.499924007, 30.265294682), (0, 30.251), (0.499924007, 30.265294682))
            ThreePointArc((0.499924007, 30.265294682), (0.818060825, 29.108447656), (1.464956435, 28.097986303))
            ThreePointArc((1.464956435, 28.097986303), (1.720779115, 28.135428253), (1.975651141, 28.178872399))
            ThreePointArc((1.975651141, 28.178872399), (2.278635697, 29.33977999), (2.223716399, 30.538316575))
            ThreePointArc((2.223716399, 30.538316575), (2.703589684, 30.679206539), (3.174628369, 30.847286604))
            ThreePointArc((3.174628369, 30.847286604), (3.834679853, 29.845369385), (4.762163869, 29.084265267))
            ThreePointArc((4.762163869, 29.084265267), (4.993895497, 29.198928234), (5.222868219, 29.319005859))
            ThreePointArc((5.222868219, 29.319005859), (5.15228348, 30.516721965), (4.729683951, 31.639626998))
            ThreePointArc((4.729683951, 31.639626998), (5.142533172, 31.921910316), (5.538577987, 32.227322916))
            ThreePointArc((5.538577987, 32.227322916), (6.4759337, 31.478410142), (7.593217523, 31.041165434))
            ThreePointArc((7.593217523, 31.041165434), (7.778174593, 31.221825407), (7.958834566, 31.406782477))
            ThreePointArc((7.958834566, 31.406782477), (7.521589858, 32.5240663), (6.772677084, 33.461422013))
            ThreePointArc((6.772677084, 33.461422013), (7.078089684, 33.857466828), (7.360373002, 34.270316049))
            ThreePointArc((7.360373002, 34.270316049), (8.483278035, 33.84771652), (9.680994141, 33.777131781))
            ThreePointArc((9.680994141, 33.777131781), (9.801071766, 34.006104503), (9.915734733, 34.237836131))
            ThreePointArc((9.915734733, 34.237836131), (9.154630615, 35.165320147), (8.152713396, 35.825371631))
            ThreePointArc((8.152713396, 35.825371631), (8.320793461, 36.296410316), (8.461683425, 36.776283601))
            ThreePointArc((8.461683425, 36.776283601), (9.66022001, 36.721364303), (10.821127601, 37.024348859))
            ThreePointArc((10.821127601, 37.024348859), (10.864571747, 37.279220885), (10.902013697, 37.535043565))
            ThreePointArc((10.902013697, 37.535043565), (9.891552344, 38.181939175), (8.734705318, 38.500075993))
            ThreePointArc((8.734705318, 38.500075993), (8.749, 39), (8.734705318, 39.499924007))
            ThreePointArc((8.734705318, 39.499924007), (9.891552344, 39.818060825), (10.902013697, 40.464956435))
            ThreePointArc((10.902013697, 40.464956435), (10.864571747, 40.720779115), (10.821127601, 40.975651141))
            ThreePointArc((10.821127601, 40.975651141), (9.66022001, 41.278635697), (8.461683425, 41.223716399))
            ThreePointArc((8.461683425, 41.223716399), (8.320793461, 41.703589684), (8.152713396, 42.174628369))
            ThreePointArc((8.152713396, 42.174628369), (9.154630615, 42.834679853), (9.915734733, 43.762163869))
            ThreePointArc((9.915734733, 43.762163869), (9.801071766, 43.993895497), (9.680994141, 44.222868219))
            ThreePointArc((9.680994141, 44.222868219), (8.483278035, 44.15228348), (7.360373002, 43.729683951))
            ThreePointArc((7.360373002, 43.729683951), (7.078089684, 44.142533172), (6.772677084, 44.538577987))
            ThreePointArc((6.772677084, 44.538577987), (7.521589858, 45.4759337), (7.958834566, 46.593217523))
            ThreePointArc((7.958834566, 46.593217523), (7.778174593, 46.778174593), (7.593217523, 46.958834566))
            ThreePointArc((7.593217523, 46.958834566), (6.4759337, 46.521589858), (5.538577987, 45.772677084))
            ThreePointArc((5.538577987, 45.772677084), (5.142533172, 46.078089684), (4.729683951, 46.360373002))
            ThreePointArc((4.729683951, 46.360373002), (5.15228348, 47.483278035), (5.222868219, 48.680994141))
            ThreePointArc((5.222868219, 48.680994141), (4.993895497, 48.801071766), (4.762163869, 48.915734733))
            ThreePointArc((4.762163869, 48.915734733), (3.834679853, 48.154630615), (3.174628369, 47.152713396))
            ThreePointArc((3.174628369, 47.152713396), (2.703589684, 47.320793461), (2.223716399, 47.461683425))
            ThreePointArc((2.223716399, 47.461683425), (2.278635697, 48.66022001), (1.975651141, 49.821127601))
            ThreePointArc((1.975651141, 49.821127601), (1.720779115, 49.864571747), (1.464956435, 49.902013697))
        make_face()
    extrude(amount=EXTRUDE_10_DEPTH, both=True)


solid = part.part
